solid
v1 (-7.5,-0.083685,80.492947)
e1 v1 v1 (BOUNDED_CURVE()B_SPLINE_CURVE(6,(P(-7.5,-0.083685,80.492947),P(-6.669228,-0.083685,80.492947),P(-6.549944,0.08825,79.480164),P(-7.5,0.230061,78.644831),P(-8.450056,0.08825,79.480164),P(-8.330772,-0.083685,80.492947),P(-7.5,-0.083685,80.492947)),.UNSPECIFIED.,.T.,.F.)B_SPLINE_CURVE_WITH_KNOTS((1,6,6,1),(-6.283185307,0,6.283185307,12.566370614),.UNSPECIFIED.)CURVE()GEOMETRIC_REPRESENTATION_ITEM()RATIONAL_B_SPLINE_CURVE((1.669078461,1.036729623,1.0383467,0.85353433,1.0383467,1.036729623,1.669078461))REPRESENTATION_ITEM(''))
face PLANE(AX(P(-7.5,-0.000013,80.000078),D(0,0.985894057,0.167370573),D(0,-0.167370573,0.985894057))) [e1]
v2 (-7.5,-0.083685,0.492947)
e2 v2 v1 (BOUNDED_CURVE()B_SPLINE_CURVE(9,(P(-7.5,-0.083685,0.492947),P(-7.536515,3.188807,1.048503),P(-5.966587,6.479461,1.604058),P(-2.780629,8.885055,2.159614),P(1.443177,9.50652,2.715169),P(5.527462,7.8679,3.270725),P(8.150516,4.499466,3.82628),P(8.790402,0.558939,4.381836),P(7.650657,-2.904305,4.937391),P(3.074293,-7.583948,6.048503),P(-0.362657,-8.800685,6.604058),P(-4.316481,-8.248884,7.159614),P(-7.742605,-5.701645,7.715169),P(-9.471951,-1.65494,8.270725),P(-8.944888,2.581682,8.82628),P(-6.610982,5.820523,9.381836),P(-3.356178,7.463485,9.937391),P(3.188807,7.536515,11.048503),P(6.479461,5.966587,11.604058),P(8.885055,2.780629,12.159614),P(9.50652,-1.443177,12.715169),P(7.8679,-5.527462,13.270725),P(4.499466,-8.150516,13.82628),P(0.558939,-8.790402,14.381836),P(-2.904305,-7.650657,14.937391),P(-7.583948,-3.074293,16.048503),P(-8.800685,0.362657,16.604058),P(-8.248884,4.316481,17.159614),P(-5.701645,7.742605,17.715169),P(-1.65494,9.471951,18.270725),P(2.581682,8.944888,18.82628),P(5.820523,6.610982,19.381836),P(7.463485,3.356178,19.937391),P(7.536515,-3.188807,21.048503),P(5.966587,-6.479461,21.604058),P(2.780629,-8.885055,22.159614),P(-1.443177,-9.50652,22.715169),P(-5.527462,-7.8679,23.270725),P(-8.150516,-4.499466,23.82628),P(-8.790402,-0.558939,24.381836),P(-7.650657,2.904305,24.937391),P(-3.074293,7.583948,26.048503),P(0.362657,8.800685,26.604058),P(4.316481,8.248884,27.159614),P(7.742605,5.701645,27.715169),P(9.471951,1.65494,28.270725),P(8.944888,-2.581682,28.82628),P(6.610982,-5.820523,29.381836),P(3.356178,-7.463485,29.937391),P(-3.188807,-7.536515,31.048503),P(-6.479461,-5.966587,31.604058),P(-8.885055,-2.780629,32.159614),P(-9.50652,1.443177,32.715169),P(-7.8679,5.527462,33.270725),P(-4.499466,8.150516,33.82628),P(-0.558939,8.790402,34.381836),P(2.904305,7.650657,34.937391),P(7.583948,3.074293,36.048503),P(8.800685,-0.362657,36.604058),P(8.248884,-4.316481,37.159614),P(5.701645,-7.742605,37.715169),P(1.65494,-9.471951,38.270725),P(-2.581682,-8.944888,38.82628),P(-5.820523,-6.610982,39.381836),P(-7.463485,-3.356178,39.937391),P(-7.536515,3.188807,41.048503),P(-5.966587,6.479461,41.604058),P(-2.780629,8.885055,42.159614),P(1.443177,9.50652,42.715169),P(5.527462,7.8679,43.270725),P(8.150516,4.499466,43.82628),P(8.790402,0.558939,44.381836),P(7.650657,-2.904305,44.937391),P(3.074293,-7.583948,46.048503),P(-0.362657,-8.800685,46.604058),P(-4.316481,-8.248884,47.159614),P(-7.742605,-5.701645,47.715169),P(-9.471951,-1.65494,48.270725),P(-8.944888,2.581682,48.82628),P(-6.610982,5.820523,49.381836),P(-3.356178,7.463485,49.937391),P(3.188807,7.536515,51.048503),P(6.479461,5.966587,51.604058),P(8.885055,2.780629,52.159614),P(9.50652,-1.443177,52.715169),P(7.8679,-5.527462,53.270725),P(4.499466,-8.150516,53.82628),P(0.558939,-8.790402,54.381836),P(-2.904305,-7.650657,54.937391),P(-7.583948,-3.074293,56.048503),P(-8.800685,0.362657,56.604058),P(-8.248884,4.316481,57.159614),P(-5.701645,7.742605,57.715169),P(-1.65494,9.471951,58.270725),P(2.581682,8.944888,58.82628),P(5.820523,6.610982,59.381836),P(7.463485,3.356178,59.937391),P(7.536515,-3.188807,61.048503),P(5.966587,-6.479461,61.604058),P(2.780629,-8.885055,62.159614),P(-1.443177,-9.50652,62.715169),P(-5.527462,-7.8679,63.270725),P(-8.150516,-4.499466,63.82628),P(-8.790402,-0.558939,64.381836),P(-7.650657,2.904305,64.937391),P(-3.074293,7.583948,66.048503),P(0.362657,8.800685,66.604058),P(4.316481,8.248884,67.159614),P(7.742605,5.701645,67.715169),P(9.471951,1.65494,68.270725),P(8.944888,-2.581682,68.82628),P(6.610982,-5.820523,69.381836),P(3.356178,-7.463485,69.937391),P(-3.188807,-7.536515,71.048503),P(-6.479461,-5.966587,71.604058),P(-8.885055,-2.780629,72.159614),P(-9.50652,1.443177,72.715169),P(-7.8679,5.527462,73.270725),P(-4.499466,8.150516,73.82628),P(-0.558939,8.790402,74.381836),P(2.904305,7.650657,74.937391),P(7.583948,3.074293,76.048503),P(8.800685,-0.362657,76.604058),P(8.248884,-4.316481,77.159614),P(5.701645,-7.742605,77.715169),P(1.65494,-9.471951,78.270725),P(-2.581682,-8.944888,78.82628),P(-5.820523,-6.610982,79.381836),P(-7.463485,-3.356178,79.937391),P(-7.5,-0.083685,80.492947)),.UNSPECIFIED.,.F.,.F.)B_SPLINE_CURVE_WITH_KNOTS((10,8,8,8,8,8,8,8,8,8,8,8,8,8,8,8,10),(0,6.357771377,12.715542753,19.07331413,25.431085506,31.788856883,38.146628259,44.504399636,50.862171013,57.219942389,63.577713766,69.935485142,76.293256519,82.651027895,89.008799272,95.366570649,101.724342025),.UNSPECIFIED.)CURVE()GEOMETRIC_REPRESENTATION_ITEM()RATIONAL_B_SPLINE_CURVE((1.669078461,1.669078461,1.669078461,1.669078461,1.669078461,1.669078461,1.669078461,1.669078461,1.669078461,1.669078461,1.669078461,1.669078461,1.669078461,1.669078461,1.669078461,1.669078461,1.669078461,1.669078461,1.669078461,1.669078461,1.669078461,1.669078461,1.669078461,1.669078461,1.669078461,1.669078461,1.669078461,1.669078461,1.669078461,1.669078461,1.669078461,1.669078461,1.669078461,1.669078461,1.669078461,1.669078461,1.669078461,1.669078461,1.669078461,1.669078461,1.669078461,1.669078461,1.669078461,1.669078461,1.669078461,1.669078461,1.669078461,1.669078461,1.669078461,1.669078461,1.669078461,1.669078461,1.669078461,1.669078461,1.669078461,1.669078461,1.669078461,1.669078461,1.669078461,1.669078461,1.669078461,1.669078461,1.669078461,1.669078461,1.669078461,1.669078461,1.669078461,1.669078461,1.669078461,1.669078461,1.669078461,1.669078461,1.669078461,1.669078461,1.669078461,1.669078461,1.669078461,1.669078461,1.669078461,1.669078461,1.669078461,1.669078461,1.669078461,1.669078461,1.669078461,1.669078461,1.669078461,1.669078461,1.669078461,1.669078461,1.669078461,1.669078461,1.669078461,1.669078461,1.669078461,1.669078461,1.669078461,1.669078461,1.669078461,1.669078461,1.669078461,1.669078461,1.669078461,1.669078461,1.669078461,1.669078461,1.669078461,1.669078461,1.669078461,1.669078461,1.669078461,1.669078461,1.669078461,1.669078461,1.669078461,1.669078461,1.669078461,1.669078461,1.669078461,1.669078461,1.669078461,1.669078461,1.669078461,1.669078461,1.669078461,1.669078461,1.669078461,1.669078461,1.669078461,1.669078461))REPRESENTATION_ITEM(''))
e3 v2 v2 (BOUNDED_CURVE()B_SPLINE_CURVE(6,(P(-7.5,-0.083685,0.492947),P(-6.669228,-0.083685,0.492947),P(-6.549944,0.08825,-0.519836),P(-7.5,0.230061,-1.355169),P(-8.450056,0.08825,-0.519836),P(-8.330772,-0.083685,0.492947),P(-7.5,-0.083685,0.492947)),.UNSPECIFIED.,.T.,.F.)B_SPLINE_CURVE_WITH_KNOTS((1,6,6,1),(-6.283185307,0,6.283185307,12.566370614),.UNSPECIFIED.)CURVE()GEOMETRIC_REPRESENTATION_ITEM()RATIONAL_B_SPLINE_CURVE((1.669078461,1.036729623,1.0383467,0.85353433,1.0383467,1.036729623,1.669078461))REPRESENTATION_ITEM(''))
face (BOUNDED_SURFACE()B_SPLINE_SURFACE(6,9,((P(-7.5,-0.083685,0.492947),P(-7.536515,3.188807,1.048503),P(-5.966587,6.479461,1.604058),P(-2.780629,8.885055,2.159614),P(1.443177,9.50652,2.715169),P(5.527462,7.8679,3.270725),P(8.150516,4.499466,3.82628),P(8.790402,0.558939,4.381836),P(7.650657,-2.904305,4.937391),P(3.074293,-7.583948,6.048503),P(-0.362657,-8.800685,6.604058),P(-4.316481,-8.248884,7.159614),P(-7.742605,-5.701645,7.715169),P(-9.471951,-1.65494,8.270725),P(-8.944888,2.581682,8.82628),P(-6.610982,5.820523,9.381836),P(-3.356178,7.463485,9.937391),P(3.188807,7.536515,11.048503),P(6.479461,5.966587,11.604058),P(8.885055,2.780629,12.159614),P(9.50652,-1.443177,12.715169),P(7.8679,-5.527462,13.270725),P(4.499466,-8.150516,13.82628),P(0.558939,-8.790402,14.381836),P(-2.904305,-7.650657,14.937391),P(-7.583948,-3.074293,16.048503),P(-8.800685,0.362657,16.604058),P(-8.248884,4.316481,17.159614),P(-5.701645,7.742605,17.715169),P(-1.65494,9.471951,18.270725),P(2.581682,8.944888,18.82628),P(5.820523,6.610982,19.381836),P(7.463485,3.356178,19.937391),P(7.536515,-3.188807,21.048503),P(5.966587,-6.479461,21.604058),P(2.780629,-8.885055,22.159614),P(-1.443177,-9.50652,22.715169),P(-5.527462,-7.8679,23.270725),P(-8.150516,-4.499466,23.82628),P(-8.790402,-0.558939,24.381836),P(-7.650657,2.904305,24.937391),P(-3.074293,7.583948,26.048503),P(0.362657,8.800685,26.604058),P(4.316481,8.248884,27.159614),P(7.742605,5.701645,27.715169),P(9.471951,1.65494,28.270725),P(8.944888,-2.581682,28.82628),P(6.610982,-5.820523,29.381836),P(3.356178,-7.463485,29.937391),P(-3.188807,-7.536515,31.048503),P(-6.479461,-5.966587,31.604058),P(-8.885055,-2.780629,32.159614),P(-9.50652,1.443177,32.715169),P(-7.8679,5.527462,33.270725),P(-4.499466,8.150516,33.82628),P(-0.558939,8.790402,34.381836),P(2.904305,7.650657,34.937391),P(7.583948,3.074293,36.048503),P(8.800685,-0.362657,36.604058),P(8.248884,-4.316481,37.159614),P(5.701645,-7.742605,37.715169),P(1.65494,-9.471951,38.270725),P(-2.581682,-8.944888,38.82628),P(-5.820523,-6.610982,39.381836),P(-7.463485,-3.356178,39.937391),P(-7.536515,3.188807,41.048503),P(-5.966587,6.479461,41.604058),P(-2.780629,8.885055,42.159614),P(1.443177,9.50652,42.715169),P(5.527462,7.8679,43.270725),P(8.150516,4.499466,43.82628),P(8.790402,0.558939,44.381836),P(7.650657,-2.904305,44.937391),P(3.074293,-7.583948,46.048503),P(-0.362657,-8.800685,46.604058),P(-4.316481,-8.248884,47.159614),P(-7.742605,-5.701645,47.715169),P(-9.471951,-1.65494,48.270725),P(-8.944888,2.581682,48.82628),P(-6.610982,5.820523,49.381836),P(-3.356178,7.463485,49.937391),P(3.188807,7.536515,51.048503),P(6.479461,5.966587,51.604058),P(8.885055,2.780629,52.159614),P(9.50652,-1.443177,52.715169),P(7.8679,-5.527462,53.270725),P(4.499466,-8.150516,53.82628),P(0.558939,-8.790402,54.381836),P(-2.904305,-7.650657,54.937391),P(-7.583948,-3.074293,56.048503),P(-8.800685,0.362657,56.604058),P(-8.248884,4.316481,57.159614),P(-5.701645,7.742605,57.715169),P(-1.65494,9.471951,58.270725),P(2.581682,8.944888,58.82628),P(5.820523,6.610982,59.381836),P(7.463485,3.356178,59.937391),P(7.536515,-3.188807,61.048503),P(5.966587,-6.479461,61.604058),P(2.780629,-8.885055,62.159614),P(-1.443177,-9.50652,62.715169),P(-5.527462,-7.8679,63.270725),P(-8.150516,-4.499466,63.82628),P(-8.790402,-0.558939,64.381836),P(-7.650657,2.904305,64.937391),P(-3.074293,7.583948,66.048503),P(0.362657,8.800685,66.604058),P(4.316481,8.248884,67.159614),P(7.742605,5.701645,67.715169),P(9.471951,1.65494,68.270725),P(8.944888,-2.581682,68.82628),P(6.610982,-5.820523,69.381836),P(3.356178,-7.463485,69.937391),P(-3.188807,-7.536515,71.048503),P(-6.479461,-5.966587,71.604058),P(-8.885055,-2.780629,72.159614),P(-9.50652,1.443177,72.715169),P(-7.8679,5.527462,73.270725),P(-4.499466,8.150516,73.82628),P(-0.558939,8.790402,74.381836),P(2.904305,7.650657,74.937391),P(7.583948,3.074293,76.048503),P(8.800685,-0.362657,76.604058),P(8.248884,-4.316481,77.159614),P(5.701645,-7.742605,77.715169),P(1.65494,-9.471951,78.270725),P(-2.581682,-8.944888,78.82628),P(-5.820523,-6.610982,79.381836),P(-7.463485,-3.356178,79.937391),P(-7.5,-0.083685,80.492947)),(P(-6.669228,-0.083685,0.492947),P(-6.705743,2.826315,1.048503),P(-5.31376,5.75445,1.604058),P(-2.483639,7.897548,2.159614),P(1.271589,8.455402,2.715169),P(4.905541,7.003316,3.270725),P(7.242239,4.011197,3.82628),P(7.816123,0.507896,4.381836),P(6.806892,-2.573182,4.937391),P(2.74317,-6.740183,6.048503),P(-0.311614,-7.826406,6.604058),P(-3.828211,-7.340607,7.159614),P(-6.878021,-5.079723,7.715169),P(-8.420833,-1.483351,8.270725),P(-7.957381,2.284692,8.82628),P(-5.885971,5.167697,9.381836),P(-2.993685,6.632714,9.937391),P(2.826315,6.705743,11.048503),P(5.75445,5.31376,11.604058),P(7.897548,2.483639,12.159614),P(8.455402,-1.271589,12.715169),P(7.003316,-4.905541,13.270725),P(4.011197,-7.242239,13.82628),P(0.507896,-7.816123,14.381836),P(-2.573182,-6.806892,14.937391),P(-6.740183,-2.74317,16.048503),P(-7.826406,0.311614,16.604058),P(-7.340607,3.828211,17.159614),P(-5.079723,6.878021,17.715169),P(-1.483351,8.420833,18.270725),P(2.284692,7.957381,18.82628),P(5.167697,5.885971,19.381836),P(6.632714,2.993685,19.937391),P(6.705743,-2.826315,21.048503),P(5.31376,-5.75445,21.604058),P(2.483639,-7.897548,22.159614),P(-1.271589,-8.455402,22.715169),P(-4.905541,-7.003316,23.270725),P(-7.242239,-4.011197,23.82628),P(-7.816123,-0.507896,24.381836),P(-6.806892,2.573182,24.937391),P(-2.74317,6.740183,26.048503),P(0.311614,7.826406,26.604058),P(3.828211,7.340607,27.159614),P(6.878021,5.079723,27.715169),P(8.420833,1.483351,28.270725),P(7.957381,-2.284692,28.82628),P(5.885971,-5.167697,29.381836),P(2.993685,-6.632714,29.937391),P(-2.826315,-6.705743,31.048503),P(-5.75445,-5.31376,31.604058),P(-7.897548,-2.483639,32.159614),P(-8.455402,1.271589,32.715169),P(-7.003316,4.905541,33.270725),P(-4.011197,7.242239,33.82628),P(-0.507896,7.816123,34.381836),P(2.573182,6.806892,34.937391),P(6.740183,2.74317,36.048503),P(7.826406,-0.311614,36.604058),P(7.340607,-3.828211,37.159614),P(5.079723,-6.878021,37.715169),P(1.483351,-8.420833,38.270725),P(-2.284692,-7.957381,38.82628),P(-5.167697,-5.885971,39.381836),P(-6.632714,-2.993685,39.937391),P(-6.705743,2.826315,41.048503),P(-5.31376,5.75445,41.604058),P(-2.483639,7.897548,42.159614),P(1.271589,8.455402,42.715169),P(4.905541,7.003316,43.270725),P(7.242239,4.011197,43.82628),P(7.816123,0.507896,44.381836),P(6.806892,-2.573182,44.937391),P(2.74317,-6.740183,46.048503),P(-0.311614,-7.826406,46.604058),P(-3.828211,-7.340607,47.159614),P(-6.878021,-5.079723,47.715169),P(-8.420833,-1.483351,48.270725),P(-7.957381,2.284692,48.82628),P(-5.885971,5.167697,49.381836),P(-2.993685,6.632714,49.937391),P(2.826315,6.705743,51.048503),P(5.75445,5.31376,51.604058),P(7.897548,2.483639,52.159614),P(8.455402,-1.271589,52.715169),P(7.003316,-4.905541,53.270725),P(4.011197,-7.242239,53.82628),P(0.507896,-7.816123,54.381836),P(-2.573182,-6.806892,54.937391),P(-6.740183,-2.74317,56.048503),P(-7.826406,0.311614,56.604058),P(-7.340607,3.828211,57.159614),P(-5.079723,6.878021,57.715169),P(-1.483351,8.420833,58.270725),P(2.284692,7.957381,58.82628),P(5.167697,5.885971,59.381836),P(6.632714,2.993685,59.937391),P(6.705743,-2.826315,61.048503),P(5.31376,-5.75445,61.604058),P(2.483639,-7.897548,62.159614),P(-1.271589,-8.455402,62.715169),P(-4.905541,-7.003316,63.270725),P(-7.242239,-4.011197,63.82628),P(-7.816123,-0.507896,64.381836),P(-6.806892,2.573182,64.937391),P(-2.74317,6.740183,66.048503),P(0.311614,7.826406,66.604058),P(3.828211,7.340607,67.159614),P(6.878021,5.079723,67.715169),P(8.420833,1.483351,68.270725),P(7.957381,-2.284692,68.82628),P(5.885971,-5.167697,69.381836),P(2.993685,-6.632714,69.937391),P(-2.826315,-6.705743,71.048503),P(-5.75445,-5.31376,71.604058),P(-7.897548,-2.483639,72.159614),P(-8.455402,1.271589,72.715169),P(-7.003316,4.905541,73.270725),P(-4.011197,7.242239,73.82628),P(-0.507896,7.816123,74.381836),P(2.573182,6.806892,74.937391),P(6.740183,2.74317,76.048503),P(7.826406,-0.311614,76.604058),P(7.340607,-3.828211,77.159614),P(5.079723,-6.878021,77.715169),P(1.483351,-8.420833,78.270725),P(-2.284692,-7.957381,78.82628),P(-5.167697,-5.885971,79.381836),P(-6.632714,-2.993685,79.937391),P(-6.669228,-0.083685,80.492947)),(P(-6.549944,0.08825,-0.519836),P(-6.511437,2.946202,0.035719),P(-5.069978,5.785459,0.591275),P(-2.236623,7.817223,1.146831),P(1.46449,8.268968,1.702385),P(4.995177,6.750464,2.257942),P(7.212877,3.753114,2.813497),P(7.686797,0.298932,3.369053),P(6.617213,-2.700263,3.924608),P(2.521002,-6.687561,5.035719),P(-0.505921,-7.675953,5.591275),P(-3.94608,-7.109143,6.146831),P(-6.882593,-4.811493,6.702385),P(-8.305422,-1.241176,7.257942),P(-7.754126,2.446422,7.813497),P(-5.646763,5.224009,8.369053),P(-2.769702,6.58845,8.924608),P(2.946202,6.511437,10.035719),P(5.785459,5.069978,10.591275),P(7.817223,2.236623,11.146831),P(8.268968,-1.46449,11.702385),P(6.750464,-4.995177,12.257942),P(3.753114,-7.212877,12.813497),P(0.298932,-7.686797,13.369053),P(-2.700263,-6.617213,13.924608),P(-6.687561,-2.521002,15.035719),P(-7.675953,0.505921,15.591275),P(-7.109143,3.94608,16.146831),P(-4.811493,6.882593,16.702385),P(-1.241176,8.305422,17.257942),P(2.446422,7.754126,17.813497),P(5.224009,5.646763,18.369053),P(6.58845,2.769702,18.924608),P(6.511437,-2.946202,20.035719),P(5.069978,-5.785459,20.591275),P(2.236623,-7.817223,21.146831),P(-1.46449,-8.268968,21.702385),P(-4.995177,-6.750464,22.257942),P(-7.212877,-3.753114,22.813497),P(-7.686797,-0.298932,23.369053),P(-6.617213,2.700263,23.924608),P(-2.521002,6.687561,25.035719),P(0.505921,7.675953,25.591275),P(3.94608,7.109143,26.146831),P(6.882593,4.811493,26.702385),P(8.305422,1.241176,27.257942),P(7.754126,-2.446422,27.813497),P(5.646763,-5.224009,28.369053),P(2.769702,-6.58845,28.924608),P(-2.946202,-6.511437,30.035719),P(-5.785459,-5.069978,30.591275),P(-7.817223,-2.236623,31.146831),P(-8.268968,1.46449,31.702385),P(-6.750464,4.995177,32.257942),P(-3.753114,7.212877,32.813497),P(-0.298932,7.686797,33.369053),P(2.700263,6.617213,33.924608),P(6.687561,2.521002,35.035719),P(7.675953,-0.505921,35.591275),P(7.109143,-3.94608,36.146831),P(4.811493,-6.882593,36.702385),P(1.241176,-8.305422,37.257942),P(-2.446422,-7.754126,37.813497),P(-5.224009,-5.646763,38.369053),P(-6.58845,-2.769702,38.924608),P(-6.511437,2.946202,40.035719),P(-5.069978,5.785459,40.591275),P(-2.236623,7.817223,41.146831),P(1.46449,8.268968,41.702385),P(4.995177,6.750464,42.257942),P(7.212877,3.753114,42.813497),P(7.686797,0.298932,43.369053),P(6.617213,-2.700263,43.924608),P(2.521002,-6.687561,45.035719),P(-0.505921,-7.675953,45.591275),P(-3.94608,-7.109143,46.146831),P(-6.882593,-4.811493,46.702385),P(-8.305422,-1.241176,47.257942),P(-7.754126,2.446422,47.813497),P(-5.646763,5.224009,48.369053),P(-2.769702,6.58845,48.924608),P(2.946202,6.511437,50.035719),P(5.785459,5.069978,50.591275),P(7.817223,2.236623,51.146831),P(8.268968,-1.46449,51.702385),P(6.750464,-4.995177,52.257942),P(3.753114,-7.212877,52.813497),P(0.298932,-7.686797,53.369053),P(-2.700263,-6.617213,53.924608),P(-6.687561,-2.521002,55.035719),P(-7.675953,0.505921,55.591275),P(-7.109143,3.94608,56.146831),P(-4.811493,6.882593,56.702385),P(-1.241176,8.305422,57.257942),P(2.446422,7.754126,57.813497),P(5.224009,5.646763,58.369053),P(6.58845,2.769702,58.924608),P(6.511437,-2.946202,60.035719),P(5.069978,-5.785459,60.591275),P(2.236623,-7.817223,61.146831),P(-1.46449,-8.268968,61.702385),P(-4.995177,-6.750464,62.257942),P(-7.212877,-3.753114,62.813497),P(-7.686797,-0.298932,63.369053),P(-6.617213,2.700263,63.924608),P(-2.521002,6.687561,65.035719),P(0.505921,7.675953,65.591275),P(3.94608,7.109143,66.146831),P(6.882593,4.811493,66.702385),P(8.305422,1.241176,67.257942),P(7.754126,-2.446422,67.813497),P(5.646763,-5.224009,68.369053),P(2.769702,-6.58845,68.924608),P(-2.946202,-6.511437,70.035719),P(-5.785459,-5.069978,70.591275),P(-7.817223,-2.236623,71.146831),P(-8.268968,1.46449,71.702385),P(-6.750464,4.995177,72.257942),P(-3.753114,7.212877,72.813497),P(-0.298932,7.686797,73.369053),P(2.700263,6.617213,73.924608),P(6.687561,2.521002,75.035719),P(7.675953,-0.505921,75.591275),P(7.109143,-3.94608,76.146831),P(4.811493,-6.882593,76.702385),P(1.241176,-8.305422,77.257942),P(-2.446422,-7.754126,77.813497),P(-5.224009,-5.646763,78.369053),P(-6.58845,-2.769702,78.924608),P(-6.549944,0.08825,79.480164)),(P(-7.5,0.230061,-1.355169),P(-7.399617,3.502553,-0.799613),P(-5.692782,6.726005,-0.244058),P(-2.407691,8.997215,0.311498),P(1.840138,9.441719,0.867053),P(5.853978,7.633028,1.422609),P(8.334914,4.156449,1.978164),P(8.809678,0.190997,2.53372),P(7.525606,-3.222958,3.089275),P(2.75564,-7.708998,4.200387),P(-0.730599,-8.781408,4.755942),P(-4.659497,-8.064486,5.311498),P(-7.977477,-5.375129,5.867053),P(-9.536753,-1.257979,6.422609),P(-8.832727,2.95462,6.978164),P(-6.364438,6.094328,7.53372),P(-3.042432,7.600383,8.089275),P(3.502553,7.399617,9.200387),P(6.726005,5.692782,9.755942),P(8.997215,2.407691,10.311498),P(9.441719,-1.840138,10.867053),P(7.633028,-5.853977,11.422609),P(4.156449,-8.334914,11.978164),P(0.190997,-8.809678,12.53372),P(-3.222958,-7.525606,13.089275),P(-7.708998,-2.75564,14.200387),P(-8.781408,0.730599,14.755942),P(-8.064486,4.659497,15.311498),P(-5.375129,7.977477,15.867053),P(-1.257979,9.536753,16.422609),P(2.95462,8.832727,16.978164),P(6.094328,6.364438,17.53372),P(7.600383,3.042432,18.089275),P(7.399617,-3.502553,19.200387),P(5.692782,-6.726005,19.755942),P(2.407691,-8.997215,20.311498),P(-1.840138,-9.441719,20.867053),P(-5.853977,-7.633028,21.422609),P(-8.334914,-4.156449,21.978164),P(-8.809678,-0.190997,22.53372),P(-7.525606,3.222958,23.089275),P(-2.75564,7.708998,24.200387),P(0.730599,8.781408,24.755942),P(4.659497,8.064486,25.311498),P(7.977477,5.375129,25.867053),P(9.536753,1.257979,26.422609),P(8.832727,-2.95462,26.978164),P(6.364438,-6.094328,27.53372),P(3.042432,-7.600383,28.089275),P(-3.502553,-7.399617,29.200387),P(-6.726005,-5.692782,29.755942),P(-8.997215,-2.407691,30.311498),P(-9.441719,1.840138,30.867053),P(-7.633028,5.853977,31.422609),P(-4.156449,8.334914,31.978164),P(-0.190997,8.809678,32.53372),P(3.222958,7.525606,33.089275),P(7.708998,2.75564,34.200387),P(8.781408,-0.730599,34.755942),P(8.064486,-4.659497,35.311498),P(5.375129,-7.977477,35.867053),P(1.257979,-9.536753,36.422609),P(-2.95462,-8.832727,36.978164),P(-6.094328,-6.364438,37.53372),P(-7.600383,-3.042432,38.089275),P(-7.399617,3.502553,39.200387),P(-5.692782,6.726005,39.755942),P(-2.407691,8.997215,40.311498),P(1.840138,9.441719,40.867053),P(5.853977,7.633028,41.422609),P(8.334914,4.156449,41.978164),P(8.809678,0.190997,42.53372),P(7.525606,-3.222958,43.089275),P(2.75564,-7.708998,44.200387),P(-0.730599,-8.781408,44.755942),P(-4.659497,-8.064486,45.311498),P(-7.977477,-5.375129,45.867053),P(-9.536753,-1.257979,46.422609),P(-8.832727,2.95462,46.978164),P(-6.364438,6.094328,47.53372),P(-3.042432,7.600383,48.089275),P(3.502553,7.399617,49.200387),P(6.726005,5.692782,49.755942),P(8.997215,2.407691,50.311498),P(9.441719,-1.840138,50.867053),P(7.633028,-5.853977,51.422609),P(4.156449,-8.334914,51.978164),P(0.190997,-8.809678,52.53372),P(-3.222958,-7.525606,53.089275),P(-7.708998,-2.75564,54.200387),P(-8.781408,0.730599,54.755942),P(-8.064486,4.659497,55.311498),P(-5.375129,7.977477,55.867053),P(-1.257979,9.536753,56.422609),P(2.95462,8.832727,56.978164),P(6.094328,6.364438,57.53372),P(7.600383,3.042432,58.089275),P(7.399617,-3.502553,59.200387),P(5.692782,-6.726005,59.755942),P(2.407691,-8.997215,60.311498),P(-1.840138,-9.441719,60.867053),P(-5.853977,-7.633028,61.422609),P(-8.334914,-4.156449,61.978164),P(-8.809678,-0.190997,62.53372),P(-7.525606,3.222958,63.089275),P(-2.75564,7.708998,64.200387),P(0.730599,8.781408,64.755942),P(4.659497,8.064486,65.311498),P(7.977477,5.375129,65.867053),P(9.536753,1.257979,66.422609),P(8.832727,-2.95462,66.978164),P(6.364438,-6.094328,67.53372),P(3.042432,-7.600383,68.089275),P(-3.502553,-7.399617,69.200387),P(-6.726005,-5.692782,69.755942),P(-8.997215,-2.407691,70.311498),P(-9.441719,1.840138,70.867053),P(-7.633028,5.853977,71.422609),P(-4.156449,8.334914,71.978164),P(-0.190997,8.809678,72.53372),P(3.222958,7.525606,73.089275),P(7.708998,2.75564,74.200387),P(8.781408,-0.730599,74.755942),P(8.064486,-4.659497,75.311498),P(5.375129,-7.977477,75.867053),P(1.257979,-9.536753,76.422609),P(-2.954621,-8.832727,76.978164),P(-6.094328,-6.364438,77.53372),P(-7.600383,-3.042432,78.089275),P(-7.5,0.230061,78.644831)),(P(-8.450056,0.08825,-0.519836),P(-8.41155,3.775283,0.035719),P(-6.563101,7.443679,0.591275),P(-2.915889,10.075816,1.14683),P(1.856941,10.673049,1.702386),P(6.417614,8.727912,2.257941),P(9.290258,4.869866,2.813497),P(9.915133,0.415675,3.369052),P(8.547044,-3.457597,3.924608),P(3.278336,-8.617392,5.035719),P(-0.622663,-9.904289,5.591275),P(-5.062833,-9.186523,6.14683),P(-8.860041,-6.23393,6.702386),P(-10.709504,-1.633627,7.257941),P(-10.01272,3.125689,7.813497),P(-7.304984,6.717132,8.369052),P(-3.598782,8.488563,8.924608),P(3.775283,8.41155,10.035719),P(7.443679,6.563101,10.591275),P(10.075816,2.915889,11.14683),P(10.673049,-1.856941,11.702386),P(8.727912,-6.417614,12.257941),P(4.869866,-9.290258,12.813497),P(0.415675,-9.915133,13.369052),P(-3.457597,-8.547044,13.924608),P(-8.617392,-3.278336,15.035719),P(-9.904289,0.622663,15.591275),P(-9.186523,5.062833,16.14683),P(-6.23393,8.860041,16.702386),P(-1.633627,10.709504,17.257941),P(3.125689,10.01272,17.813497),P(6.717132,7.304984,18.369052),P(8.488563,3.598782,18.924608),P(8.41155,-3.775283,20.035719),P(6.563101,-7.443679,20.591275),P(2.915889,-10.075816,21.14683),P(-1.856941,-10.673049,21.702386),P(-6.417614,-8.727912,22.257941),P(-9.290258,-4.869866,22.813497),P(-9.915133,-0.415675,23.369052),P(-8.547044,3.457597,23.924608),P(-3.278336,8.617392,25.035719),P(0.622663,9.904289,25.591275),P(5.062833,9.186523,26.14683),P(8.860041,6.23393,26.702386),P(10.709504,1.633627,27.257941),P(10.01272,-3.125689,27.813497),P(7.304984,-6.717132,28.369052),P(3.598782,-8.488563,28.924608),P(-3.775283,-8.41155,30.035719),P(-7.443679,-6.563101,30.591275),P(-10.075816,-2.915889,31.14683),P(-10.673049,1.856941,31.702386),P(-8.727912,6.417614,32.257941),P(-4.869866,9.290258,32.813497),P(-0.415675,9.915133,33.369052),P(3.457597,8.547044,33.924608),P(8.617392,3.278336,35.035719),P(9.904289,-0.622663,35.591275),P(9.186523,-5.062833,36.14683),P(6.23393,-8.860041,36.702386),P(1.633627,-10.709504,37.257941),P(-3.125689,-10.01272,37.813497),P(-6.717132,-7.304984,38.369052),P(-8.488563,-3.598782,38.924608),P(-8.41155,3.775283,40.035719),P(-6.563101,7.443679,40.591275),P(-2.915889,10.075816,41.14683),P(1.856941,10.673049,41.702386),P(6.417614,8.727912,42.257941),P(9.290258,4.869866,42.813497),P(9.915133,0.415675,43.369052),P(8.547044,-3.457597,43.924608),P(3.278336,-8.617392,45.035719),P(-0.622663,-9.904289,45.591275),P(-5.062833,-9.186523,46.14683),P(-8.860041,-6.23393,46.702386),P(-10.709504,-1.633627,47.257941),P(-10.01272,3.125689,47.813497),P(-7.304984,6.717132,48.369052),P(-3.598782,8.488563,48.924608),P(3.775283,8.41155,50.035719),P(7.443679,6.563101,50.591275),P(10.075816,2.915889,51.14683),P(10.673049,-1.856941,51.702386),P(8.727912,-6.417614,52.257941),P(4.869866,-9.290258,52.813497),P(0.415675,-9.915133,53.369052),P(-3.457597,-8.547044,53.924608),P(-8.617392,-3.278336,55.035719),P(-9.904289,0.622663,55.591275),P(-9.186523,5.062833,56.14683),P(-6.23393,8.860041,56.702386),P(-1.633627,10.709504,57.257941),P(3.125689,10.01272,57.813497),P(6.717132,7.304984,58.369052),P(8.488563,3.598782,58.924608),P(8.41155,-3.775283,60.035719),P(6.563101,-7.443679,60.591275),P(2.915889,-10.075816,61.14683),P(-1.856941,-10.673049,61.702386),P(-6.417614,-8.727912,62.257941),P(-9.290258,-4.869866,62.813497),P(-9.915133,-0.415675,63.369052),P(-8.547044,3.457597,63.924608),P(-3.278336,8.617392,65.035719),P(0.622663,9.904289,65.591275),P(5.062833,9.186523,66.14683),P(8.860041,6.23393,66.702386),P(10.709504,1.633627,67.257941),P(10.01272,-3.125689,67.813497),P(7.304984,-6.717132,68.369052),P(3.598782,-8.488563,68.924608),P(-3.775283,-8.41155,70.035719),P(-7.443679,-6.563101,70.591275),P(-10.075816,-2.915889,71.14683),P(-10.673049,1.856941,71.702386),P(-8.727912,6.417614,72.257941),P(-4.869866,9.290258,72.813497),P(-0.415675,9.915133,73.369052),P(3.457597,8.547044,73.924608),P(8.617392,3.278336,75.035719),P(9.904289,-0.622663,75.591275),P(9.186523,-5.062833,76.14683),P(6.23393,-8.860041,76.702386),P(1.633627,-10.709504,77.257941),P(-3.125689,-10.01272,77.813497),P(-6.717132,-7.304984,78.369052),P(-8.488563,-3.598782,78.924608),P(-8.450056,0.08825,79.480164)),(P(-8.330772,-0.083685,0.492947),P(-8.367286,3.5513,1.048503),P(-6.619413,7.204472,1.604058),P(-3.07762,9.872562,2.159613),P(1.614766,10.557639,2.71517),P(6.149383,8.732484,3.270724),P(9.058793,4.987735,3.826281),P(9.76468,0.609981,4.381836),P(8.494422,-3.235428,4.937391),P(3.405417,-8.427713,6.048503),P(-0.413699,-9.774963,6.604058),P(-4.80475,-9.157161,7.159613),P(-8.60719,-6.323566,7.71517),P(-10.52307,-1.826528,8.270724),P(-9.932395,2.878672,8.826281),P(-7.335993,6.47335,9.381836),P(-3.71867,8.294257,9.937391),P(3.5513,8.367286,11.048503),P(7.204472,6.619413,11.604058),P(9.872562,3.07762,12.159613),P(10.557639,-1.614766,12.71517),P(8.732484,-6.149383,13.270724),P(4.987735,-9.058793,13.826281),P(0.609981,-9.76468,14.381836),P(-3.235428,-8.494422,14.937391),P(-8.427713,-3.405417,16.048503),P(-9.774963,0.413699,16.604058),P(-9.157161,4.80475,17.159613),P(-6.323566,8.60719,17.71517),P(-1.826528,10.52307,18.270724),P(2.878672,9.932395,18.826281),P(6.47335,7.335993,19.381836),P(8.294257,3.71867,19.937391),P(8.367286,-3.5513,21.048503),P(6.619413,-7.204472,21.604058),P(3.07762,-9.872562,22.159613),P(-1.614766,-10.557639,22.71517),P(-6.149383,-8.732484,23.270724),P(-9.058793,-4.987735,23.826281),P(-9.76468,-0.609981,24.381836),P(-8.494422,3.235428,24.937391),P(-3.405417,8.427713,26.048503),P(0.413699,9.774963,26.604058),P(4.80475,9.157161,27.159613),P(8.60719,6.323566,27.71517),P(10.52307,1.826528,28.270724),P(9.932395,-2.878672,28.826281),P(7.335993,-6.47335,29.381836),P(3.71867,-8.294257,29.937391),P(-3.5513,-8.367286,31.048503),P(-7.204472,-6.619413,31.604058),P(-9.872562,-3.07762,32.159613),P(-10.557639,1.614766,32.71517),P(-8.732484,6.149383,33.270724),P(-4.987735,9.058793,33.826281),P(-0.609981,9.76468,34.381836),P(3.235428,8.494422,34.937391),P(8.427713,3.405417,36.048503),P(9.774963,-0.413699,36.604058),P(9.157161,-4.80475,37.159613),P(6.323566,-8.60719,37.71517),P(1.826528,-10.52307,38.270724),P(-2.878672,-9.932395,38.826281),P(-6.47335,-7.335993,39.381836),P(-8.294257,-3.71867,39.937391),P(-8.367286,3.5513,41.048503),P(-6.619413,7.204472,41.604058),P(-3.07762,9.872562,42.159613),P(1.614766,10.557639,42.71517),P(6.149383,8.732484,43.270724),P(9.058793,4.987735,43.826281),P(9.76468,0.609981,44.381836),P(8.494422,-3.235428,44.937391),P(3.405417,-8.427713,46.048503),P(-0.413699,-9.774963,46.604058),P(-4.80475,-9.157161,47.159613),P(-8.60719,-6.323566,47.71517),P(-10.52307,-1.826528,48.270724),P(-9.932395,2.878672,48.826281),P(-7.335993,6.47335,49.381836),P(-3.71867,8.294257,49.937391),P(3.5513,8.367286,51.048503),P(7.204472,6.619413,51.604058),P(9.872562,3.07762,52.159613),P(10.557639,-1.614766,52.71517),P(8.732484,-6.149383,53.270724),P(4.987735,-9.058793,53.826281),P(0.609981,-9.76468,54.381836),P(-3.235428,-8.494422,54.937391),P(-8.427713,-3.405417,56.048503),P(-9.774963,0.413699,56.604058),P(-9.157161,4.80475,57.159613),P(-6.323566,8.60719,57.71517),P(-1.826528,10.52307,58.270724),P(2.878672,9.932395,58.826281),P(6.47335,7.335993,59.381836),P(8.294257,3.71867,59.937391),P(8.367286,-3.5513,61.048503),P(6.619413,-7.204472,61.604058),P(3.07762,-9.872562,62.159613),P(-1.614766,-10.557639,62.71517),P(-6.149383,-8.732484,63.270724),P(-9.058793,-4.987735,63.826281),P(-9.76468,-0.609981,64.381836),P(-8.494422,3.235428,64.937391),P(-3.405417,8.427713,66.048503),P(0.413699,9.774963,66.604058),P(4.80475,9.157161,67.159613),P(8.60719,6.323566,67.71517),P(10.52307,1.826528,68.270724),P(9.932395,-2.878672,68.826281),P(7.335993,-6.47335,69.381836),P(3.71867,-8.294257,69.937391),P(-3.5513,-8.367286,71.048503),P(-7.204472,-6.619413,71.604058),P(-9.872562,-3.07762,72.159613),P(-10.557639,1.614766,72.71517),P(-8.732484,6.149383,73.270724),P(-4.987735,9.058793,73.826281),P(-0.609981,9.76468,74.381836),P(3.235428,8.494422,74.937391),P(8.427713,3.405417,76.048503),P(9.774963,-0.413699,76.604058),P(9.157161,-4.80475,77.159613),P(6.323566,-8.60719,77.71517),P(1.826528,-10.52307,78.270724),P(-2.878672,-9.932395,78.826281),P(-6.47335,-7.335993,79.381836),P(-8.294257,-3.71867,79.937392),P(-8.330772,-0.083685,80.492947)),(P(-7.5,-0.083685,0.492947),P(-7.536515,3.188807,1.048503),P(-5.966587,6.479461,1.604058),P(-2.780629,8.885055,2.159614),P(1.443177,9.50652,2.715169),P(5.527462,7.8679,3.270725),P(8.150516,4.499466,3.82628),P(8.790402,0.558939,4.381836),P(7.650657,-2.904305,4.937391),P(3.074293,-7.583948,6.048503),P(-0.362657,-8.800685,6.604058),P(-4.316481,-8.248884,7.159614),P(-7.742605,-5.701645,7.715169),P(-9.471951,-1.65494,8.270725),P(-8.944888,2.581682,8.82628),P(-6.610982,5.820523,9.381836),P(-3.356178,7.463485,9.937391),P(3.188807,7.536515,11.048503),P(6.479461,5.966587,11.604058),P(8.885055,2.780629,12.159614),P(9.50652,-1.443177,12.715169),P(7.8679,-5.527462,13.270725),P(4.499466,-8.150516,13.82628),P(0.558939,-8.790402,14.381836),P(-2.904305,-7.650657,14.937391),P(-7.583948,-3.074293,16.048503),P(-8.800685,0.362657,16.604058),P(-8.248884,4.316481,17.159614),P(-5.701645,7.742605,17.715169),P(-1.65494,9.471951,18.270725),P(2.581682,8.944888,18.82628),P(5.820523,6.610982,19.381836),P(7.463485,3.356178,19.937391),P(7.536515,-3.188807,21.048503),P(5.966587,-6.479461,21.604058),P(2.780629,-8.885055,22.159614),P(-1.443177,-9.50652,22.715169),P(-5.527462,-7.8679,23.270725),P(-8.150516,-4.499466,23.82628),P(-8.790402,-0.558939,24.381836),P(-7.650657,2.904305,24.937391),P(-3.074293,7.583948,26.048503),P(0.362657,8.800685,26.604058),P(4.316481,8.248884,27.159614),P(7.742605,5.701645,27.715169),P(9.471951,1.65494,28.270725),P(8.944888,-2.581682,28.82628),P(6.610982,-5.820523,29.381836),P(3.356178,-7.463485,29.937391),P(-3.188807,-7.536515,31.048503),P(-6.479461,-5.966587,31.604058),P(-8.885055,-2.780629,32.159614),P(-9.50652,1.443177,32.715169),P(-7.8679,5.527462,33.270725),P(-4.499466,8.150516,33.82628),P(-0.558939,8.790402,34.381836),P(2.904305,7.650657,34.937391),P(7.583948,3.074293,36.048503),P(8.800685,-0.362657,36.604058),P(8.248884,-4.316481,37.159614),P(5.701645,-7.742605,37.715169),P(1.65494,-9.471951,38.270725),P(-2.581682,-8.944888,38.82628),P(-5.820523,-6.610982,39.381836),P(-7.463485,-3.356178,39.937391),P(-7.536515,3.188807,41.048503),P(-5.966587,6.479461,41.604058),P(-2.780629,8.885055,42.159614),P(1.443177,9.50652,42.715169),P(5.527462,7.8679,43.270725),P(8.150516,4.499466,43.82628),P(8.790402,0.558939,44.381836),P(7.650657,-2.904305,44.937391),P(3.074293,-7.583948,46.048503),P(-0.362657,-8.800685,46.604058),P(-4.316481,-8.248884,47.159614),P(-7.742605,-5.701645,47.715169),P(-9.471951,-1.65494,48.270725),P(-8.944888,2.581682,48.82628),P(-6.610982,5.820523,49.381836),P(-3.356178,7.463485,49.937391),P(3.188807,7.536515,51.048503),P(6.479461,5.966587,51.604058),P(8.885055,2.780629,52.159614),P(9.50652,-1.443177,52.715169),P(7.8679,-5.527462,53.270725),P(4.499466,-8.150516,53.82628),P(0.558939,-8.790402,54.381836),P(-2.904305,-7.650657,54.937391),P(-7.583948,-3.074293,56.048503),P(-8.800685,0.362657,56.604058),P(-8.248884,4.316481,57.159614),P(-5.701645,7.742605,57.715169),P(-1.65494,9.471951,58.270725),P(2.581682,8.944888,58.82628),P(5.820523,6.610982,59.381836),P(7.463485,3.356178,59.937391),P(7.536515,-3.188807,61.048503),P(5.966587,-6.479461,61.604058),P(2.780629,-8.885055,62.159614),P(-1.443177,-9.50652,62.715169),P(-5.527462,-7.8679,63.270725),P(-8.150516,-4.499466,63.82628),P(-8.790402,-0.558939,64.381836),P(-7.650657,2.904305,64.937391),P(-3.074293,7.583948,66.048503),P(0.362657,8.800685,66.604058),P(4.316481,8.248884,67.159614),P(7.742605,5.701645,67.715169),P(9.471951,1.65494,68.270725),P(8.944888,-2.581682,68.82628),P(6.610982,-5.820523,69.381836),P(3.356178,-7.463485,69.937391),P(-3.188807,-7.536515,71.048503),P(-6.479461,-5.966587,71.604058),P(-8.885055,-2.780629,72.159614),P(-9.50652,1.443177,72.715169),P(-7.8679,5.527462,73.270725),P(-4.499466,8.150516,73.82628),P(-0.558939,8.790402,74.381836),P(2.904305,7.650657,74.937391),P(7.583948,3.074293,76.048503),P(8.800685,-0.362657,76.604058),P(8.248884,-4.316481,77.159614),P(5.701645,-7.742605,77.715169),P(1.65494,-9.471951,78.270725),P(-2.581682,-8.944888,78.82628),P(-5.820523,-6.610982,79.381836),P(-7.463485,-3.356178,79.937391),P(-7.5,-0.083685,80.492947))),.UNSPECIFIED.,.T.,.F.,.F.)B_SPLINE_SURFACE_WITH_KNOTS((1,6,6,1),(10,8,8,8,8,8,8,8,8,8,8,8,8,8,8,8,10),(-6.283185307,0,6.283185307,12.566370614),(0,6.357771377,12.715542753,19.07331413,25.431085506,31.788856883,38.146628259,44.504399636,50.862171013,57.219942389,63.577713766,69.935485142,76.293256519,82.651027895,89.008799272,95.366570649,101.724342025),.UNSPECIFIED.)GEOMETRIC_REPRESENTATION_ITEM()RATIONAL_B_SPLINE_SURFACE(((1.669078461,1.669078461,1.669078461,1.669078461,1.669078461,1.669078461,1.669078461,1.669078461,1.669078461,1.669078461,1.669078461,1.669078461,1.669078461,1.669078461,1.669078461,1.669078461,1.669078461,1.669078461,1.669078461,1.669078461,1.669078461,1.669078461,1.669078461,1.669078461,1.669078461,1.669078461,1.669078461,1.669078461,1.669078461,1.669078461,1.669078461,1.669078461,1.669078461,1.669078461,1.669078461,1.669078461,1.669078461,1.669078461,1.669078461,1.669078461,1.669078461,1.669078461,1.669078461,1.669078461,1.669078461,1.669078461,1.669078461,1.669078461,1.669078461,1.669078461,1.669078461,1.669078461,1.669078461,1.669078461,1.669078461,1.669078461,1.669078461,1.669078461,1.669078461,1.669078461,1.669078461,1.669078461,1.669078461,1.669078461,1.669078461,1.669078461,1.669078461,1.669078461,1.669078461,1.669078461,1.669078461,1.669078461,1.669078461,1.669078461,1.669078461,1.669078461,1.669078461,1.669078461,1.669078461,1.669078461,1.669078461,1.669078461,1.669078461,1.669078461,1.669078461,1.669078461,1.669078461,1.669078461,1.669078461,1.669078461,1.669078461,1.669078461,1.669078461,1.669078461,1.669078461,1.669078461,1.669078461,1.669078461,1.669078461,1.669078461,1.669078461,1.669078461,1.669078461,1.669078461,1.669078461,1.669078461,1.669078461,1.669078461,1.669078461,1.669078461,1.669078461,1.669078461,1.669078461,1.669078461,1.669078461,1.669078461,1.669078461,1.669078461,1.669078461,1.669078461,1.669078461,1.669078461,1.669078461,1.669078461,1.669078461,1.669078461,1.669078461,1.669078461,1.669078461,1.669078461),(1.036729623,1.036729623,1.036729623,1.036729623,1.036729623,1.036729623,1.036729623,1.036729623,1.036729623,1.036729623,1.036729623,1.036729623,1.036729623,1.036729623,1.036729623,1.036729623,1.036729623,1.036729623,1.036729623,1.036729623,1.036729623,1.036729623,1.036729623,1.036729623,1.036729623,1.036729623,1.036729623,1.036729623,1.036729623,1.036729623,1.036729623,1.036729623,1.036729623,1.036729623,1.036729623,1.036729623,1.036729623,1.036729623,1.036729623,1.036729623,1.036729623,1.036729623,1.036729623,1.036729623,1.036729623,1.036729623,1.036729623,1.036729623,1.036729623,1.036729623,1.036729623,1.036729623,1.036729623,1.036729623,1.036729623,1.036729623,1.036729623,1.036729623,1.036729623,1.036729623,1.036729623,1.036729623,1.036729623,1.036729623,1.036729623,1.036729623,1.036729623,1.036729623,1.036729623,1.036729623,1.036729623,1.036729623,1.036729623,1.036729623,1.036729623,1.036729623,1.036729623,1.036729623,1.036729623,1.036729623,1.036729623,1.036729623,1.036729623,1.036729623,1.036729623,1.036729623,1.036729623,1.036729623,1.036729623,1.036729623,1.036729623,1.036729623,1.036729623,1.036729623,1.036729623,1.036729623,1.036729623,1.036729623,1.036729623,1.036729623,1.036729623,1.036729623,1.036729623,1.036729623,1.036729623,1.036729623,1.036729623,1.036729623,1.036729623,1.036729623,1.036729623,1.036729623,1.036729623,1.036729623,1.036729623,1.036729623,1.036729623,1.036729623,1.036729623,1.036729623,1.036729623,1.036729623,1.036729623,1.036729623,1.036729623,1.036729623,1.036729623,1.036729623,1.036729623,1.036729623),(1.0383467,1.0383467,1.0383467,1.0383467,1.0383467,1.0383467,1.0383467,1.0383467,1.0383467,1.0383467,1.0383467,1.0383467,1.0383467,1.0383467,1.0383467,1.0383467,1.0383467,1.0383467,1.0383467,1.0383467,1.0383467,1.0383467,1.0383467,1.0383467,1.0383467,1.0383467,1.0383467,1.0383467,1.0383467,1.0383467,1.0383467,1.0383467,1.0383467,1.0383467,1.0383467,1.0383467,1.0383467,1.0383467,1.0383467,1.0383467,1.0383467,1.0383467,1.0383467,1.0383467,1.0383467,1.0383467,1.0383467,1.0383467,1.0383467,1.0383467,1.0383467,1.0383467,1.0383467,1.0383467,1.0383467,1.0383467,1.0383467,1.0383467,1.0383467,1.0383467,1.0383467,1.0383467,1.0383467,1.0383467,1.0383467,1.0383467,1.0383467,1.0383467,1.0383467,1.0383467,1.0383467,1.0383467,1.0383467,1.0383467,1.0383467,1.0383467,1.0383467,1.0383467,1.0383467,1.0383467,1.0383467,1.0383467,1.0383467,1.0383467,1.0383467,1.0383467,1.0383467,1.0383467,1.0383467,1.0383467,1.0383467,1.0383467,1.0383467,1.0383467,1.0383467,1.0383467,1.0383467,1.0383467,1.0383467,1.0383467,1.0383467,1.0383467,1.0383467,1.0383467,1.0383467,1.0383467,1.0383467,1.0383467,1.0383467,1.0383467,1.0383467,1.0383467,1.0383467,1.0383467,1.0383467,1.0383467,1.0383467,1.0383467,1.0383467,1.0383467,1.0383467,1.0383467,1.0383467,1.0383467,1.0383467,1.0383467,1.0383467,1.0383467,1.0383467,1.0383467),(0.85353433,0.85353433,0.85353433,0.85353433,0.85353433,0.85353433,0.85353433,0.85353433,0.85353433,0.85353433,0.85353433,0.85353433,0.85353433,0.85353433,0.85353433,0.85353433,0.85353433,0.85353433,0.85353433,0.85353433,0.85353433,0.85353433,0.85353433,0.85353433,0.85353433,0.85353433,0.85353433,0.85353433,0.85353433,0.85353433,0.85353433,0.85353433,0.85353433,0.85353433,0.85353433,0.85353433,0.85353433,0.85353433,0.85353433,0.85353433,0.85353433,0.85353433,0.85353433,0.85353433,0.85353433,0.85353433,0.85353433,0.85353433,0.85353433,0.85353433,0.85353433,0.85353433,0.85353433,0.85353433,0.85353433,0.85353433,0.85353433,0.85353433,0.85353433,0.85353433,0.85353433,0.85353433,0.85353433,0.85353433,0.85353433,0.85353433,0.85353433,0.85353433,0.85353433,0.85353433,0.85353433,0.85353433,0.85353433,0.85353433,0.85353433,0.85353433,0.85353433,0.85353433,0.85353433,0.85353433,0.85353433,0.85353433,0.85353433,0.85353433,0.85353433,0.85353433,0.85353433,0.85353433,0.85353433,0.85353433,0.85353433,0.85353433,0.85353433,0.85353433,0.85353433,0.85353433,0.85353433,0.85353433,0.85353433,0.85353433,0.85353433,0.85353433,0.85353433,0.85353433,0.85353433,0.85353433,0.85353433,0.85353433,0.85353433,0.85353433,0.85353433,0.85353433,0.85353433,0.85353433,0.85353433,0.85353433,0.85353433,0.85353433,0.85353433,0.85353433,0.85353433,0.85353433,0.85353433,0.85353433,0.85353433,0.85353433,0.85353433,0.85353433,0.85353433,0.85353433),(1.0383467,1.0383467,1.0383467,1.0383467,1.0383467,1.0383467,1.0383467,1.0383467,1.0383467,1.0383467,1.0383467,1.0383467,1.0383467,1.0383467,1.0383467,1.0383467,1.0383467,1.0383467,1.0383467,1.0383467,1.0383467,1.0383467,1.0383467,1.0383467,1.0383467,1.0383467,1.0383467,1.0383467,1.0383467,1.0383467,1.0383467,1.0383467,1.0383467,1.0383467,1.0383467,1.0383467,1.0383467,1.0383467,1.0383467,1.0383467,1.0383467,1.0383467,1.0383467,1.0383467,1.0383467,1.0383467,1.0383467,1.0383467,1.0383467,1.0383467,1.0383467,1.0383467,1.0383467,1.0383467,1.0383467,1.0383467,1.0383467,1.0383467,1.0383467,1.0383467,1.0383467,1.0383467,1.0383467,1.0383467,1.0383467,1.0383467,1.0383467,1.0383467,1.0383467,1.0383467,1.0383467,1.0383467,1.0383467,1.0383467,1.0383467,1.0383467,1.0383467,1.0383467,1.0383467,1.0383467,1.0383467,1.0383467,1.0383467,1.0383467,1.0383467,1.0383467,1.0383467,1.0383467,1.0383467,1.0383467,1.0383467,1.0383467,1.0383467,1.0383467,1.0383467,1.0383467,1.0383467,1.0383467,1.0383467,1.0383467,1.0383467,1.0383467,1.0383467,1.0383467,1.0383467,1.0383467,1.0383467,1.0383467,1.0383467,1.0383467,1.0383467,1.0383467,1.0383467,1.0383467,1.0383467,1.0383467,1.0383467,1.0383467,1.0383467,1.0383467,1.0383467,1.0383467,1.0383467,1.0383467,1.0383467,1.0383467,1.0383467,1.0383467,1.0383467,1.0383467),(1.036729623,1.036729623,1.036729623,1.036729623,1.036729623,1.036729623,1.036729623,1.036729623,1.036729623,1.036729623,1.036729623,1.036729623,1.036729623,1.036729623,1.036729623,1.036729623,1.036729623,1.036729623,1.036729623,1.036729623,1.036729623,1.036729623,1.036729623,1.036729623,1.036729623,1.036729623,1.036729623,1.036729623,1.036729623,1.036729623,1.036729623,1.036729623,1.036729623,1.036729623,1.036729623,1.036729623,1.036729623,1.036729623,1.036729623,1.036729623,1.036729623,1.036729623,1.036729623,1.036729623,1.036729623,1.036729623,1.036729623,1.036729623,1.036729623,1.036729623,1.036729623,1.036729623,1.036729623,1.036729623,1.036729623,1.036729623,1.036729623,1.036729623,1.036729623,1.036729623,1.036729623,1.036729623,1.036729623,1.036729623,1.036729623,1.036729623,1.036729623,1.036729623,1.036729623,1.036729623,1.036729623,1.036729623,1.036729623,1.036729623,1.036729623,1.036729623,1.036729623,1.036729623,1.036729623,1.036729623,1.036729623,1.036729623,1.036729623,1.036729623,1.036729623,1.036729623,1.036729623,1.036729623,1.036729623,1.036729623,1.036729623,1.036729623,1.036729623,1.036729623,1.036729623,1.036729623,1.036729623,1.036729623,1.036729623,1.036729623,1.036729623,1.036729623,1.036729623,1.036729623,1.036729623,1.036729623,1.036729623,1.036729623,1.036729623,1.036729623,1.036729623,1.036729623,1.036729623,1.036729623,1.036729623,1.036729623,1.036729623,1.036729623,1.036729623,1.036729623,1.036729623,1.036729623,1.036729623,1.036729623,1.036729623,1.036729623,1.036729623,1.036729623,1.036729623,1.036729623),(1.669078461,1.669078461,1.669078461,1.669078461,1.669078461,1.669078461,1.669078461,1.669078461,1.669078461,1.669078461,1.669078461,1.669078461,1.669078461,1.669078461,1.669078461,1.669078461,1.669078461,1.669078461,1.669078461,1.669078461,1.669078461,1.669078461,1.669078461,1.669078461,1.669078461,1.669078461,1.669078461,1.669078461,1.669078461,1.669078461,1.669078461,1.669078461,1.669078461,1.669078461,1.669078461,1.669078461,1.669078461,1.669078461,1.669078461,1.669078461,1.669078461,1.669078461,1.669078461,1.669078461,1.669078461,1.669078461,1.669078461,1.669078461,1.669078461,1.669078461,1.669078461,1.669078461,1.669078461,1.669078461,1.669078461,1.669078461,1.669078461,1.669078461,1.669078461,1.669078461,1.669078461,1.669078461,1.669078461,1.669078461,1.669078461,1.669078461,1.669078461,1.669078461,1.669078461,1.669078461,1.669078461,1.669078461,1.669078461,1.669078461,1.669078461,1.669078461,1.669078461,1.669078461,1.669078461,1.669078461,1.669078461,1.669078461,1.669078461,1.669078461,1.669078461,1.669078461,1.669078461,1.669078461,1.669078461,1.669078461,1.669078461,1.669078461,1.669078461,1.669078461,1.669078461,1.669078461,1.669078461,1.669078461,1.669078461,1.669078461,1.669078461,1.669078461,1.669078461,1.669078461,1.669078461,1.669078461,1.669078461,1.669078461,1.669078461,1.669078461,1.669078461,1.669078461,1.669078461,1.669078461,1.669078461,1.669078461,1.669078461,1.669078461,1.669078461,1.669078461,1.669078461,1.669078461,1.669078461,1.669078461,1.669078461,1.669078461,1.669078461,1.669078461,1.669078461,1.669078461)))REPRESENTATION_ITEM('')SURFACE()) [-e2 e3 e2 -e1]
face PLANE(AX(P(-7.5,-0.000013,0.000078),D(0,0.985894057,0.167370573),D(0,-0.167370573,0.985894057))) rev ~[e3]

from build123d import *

# Parameters (mm, degrees)
SWEEP1_PITCH       = 8
SWEEP1_HEIGHT      = 80
SWEEP1_RADIUS      = 7.5
SWEEP1_START_ANGLE = -180
SWEEP1_PROFILE_R   = 0.5


with BuildPart() as part:
    # Sweep1: sweep along a helix
    with BuildLine() as sweep1_path:
        add(Helix(SWEEP1_PITCH, SWEEP1_HEIGHT, SWEEP1_RADIUS, center=(0, 0, 0), direction=(0, 0, 1), lefthand=True, mode=Mode.PRIVATE).rotate(Axis((0, 0, 0), (0, 0, 1)), SWEEP1_START_ANGLE))
    # Sweep1 profile (on start of the path) → Sweep1 (sweep)
    with BuildSketch(Plane(origin=(-7.5, 0, 0), x_dir=(0, -0.167370573, 0.985894057), z_dir=(0, 0.985894057, 0.167370573))):
        Circle(SWEEP1_PROFILE_R)
    sweep(path=sweep1_path.line, is_frenet=True)


solid = part.part
